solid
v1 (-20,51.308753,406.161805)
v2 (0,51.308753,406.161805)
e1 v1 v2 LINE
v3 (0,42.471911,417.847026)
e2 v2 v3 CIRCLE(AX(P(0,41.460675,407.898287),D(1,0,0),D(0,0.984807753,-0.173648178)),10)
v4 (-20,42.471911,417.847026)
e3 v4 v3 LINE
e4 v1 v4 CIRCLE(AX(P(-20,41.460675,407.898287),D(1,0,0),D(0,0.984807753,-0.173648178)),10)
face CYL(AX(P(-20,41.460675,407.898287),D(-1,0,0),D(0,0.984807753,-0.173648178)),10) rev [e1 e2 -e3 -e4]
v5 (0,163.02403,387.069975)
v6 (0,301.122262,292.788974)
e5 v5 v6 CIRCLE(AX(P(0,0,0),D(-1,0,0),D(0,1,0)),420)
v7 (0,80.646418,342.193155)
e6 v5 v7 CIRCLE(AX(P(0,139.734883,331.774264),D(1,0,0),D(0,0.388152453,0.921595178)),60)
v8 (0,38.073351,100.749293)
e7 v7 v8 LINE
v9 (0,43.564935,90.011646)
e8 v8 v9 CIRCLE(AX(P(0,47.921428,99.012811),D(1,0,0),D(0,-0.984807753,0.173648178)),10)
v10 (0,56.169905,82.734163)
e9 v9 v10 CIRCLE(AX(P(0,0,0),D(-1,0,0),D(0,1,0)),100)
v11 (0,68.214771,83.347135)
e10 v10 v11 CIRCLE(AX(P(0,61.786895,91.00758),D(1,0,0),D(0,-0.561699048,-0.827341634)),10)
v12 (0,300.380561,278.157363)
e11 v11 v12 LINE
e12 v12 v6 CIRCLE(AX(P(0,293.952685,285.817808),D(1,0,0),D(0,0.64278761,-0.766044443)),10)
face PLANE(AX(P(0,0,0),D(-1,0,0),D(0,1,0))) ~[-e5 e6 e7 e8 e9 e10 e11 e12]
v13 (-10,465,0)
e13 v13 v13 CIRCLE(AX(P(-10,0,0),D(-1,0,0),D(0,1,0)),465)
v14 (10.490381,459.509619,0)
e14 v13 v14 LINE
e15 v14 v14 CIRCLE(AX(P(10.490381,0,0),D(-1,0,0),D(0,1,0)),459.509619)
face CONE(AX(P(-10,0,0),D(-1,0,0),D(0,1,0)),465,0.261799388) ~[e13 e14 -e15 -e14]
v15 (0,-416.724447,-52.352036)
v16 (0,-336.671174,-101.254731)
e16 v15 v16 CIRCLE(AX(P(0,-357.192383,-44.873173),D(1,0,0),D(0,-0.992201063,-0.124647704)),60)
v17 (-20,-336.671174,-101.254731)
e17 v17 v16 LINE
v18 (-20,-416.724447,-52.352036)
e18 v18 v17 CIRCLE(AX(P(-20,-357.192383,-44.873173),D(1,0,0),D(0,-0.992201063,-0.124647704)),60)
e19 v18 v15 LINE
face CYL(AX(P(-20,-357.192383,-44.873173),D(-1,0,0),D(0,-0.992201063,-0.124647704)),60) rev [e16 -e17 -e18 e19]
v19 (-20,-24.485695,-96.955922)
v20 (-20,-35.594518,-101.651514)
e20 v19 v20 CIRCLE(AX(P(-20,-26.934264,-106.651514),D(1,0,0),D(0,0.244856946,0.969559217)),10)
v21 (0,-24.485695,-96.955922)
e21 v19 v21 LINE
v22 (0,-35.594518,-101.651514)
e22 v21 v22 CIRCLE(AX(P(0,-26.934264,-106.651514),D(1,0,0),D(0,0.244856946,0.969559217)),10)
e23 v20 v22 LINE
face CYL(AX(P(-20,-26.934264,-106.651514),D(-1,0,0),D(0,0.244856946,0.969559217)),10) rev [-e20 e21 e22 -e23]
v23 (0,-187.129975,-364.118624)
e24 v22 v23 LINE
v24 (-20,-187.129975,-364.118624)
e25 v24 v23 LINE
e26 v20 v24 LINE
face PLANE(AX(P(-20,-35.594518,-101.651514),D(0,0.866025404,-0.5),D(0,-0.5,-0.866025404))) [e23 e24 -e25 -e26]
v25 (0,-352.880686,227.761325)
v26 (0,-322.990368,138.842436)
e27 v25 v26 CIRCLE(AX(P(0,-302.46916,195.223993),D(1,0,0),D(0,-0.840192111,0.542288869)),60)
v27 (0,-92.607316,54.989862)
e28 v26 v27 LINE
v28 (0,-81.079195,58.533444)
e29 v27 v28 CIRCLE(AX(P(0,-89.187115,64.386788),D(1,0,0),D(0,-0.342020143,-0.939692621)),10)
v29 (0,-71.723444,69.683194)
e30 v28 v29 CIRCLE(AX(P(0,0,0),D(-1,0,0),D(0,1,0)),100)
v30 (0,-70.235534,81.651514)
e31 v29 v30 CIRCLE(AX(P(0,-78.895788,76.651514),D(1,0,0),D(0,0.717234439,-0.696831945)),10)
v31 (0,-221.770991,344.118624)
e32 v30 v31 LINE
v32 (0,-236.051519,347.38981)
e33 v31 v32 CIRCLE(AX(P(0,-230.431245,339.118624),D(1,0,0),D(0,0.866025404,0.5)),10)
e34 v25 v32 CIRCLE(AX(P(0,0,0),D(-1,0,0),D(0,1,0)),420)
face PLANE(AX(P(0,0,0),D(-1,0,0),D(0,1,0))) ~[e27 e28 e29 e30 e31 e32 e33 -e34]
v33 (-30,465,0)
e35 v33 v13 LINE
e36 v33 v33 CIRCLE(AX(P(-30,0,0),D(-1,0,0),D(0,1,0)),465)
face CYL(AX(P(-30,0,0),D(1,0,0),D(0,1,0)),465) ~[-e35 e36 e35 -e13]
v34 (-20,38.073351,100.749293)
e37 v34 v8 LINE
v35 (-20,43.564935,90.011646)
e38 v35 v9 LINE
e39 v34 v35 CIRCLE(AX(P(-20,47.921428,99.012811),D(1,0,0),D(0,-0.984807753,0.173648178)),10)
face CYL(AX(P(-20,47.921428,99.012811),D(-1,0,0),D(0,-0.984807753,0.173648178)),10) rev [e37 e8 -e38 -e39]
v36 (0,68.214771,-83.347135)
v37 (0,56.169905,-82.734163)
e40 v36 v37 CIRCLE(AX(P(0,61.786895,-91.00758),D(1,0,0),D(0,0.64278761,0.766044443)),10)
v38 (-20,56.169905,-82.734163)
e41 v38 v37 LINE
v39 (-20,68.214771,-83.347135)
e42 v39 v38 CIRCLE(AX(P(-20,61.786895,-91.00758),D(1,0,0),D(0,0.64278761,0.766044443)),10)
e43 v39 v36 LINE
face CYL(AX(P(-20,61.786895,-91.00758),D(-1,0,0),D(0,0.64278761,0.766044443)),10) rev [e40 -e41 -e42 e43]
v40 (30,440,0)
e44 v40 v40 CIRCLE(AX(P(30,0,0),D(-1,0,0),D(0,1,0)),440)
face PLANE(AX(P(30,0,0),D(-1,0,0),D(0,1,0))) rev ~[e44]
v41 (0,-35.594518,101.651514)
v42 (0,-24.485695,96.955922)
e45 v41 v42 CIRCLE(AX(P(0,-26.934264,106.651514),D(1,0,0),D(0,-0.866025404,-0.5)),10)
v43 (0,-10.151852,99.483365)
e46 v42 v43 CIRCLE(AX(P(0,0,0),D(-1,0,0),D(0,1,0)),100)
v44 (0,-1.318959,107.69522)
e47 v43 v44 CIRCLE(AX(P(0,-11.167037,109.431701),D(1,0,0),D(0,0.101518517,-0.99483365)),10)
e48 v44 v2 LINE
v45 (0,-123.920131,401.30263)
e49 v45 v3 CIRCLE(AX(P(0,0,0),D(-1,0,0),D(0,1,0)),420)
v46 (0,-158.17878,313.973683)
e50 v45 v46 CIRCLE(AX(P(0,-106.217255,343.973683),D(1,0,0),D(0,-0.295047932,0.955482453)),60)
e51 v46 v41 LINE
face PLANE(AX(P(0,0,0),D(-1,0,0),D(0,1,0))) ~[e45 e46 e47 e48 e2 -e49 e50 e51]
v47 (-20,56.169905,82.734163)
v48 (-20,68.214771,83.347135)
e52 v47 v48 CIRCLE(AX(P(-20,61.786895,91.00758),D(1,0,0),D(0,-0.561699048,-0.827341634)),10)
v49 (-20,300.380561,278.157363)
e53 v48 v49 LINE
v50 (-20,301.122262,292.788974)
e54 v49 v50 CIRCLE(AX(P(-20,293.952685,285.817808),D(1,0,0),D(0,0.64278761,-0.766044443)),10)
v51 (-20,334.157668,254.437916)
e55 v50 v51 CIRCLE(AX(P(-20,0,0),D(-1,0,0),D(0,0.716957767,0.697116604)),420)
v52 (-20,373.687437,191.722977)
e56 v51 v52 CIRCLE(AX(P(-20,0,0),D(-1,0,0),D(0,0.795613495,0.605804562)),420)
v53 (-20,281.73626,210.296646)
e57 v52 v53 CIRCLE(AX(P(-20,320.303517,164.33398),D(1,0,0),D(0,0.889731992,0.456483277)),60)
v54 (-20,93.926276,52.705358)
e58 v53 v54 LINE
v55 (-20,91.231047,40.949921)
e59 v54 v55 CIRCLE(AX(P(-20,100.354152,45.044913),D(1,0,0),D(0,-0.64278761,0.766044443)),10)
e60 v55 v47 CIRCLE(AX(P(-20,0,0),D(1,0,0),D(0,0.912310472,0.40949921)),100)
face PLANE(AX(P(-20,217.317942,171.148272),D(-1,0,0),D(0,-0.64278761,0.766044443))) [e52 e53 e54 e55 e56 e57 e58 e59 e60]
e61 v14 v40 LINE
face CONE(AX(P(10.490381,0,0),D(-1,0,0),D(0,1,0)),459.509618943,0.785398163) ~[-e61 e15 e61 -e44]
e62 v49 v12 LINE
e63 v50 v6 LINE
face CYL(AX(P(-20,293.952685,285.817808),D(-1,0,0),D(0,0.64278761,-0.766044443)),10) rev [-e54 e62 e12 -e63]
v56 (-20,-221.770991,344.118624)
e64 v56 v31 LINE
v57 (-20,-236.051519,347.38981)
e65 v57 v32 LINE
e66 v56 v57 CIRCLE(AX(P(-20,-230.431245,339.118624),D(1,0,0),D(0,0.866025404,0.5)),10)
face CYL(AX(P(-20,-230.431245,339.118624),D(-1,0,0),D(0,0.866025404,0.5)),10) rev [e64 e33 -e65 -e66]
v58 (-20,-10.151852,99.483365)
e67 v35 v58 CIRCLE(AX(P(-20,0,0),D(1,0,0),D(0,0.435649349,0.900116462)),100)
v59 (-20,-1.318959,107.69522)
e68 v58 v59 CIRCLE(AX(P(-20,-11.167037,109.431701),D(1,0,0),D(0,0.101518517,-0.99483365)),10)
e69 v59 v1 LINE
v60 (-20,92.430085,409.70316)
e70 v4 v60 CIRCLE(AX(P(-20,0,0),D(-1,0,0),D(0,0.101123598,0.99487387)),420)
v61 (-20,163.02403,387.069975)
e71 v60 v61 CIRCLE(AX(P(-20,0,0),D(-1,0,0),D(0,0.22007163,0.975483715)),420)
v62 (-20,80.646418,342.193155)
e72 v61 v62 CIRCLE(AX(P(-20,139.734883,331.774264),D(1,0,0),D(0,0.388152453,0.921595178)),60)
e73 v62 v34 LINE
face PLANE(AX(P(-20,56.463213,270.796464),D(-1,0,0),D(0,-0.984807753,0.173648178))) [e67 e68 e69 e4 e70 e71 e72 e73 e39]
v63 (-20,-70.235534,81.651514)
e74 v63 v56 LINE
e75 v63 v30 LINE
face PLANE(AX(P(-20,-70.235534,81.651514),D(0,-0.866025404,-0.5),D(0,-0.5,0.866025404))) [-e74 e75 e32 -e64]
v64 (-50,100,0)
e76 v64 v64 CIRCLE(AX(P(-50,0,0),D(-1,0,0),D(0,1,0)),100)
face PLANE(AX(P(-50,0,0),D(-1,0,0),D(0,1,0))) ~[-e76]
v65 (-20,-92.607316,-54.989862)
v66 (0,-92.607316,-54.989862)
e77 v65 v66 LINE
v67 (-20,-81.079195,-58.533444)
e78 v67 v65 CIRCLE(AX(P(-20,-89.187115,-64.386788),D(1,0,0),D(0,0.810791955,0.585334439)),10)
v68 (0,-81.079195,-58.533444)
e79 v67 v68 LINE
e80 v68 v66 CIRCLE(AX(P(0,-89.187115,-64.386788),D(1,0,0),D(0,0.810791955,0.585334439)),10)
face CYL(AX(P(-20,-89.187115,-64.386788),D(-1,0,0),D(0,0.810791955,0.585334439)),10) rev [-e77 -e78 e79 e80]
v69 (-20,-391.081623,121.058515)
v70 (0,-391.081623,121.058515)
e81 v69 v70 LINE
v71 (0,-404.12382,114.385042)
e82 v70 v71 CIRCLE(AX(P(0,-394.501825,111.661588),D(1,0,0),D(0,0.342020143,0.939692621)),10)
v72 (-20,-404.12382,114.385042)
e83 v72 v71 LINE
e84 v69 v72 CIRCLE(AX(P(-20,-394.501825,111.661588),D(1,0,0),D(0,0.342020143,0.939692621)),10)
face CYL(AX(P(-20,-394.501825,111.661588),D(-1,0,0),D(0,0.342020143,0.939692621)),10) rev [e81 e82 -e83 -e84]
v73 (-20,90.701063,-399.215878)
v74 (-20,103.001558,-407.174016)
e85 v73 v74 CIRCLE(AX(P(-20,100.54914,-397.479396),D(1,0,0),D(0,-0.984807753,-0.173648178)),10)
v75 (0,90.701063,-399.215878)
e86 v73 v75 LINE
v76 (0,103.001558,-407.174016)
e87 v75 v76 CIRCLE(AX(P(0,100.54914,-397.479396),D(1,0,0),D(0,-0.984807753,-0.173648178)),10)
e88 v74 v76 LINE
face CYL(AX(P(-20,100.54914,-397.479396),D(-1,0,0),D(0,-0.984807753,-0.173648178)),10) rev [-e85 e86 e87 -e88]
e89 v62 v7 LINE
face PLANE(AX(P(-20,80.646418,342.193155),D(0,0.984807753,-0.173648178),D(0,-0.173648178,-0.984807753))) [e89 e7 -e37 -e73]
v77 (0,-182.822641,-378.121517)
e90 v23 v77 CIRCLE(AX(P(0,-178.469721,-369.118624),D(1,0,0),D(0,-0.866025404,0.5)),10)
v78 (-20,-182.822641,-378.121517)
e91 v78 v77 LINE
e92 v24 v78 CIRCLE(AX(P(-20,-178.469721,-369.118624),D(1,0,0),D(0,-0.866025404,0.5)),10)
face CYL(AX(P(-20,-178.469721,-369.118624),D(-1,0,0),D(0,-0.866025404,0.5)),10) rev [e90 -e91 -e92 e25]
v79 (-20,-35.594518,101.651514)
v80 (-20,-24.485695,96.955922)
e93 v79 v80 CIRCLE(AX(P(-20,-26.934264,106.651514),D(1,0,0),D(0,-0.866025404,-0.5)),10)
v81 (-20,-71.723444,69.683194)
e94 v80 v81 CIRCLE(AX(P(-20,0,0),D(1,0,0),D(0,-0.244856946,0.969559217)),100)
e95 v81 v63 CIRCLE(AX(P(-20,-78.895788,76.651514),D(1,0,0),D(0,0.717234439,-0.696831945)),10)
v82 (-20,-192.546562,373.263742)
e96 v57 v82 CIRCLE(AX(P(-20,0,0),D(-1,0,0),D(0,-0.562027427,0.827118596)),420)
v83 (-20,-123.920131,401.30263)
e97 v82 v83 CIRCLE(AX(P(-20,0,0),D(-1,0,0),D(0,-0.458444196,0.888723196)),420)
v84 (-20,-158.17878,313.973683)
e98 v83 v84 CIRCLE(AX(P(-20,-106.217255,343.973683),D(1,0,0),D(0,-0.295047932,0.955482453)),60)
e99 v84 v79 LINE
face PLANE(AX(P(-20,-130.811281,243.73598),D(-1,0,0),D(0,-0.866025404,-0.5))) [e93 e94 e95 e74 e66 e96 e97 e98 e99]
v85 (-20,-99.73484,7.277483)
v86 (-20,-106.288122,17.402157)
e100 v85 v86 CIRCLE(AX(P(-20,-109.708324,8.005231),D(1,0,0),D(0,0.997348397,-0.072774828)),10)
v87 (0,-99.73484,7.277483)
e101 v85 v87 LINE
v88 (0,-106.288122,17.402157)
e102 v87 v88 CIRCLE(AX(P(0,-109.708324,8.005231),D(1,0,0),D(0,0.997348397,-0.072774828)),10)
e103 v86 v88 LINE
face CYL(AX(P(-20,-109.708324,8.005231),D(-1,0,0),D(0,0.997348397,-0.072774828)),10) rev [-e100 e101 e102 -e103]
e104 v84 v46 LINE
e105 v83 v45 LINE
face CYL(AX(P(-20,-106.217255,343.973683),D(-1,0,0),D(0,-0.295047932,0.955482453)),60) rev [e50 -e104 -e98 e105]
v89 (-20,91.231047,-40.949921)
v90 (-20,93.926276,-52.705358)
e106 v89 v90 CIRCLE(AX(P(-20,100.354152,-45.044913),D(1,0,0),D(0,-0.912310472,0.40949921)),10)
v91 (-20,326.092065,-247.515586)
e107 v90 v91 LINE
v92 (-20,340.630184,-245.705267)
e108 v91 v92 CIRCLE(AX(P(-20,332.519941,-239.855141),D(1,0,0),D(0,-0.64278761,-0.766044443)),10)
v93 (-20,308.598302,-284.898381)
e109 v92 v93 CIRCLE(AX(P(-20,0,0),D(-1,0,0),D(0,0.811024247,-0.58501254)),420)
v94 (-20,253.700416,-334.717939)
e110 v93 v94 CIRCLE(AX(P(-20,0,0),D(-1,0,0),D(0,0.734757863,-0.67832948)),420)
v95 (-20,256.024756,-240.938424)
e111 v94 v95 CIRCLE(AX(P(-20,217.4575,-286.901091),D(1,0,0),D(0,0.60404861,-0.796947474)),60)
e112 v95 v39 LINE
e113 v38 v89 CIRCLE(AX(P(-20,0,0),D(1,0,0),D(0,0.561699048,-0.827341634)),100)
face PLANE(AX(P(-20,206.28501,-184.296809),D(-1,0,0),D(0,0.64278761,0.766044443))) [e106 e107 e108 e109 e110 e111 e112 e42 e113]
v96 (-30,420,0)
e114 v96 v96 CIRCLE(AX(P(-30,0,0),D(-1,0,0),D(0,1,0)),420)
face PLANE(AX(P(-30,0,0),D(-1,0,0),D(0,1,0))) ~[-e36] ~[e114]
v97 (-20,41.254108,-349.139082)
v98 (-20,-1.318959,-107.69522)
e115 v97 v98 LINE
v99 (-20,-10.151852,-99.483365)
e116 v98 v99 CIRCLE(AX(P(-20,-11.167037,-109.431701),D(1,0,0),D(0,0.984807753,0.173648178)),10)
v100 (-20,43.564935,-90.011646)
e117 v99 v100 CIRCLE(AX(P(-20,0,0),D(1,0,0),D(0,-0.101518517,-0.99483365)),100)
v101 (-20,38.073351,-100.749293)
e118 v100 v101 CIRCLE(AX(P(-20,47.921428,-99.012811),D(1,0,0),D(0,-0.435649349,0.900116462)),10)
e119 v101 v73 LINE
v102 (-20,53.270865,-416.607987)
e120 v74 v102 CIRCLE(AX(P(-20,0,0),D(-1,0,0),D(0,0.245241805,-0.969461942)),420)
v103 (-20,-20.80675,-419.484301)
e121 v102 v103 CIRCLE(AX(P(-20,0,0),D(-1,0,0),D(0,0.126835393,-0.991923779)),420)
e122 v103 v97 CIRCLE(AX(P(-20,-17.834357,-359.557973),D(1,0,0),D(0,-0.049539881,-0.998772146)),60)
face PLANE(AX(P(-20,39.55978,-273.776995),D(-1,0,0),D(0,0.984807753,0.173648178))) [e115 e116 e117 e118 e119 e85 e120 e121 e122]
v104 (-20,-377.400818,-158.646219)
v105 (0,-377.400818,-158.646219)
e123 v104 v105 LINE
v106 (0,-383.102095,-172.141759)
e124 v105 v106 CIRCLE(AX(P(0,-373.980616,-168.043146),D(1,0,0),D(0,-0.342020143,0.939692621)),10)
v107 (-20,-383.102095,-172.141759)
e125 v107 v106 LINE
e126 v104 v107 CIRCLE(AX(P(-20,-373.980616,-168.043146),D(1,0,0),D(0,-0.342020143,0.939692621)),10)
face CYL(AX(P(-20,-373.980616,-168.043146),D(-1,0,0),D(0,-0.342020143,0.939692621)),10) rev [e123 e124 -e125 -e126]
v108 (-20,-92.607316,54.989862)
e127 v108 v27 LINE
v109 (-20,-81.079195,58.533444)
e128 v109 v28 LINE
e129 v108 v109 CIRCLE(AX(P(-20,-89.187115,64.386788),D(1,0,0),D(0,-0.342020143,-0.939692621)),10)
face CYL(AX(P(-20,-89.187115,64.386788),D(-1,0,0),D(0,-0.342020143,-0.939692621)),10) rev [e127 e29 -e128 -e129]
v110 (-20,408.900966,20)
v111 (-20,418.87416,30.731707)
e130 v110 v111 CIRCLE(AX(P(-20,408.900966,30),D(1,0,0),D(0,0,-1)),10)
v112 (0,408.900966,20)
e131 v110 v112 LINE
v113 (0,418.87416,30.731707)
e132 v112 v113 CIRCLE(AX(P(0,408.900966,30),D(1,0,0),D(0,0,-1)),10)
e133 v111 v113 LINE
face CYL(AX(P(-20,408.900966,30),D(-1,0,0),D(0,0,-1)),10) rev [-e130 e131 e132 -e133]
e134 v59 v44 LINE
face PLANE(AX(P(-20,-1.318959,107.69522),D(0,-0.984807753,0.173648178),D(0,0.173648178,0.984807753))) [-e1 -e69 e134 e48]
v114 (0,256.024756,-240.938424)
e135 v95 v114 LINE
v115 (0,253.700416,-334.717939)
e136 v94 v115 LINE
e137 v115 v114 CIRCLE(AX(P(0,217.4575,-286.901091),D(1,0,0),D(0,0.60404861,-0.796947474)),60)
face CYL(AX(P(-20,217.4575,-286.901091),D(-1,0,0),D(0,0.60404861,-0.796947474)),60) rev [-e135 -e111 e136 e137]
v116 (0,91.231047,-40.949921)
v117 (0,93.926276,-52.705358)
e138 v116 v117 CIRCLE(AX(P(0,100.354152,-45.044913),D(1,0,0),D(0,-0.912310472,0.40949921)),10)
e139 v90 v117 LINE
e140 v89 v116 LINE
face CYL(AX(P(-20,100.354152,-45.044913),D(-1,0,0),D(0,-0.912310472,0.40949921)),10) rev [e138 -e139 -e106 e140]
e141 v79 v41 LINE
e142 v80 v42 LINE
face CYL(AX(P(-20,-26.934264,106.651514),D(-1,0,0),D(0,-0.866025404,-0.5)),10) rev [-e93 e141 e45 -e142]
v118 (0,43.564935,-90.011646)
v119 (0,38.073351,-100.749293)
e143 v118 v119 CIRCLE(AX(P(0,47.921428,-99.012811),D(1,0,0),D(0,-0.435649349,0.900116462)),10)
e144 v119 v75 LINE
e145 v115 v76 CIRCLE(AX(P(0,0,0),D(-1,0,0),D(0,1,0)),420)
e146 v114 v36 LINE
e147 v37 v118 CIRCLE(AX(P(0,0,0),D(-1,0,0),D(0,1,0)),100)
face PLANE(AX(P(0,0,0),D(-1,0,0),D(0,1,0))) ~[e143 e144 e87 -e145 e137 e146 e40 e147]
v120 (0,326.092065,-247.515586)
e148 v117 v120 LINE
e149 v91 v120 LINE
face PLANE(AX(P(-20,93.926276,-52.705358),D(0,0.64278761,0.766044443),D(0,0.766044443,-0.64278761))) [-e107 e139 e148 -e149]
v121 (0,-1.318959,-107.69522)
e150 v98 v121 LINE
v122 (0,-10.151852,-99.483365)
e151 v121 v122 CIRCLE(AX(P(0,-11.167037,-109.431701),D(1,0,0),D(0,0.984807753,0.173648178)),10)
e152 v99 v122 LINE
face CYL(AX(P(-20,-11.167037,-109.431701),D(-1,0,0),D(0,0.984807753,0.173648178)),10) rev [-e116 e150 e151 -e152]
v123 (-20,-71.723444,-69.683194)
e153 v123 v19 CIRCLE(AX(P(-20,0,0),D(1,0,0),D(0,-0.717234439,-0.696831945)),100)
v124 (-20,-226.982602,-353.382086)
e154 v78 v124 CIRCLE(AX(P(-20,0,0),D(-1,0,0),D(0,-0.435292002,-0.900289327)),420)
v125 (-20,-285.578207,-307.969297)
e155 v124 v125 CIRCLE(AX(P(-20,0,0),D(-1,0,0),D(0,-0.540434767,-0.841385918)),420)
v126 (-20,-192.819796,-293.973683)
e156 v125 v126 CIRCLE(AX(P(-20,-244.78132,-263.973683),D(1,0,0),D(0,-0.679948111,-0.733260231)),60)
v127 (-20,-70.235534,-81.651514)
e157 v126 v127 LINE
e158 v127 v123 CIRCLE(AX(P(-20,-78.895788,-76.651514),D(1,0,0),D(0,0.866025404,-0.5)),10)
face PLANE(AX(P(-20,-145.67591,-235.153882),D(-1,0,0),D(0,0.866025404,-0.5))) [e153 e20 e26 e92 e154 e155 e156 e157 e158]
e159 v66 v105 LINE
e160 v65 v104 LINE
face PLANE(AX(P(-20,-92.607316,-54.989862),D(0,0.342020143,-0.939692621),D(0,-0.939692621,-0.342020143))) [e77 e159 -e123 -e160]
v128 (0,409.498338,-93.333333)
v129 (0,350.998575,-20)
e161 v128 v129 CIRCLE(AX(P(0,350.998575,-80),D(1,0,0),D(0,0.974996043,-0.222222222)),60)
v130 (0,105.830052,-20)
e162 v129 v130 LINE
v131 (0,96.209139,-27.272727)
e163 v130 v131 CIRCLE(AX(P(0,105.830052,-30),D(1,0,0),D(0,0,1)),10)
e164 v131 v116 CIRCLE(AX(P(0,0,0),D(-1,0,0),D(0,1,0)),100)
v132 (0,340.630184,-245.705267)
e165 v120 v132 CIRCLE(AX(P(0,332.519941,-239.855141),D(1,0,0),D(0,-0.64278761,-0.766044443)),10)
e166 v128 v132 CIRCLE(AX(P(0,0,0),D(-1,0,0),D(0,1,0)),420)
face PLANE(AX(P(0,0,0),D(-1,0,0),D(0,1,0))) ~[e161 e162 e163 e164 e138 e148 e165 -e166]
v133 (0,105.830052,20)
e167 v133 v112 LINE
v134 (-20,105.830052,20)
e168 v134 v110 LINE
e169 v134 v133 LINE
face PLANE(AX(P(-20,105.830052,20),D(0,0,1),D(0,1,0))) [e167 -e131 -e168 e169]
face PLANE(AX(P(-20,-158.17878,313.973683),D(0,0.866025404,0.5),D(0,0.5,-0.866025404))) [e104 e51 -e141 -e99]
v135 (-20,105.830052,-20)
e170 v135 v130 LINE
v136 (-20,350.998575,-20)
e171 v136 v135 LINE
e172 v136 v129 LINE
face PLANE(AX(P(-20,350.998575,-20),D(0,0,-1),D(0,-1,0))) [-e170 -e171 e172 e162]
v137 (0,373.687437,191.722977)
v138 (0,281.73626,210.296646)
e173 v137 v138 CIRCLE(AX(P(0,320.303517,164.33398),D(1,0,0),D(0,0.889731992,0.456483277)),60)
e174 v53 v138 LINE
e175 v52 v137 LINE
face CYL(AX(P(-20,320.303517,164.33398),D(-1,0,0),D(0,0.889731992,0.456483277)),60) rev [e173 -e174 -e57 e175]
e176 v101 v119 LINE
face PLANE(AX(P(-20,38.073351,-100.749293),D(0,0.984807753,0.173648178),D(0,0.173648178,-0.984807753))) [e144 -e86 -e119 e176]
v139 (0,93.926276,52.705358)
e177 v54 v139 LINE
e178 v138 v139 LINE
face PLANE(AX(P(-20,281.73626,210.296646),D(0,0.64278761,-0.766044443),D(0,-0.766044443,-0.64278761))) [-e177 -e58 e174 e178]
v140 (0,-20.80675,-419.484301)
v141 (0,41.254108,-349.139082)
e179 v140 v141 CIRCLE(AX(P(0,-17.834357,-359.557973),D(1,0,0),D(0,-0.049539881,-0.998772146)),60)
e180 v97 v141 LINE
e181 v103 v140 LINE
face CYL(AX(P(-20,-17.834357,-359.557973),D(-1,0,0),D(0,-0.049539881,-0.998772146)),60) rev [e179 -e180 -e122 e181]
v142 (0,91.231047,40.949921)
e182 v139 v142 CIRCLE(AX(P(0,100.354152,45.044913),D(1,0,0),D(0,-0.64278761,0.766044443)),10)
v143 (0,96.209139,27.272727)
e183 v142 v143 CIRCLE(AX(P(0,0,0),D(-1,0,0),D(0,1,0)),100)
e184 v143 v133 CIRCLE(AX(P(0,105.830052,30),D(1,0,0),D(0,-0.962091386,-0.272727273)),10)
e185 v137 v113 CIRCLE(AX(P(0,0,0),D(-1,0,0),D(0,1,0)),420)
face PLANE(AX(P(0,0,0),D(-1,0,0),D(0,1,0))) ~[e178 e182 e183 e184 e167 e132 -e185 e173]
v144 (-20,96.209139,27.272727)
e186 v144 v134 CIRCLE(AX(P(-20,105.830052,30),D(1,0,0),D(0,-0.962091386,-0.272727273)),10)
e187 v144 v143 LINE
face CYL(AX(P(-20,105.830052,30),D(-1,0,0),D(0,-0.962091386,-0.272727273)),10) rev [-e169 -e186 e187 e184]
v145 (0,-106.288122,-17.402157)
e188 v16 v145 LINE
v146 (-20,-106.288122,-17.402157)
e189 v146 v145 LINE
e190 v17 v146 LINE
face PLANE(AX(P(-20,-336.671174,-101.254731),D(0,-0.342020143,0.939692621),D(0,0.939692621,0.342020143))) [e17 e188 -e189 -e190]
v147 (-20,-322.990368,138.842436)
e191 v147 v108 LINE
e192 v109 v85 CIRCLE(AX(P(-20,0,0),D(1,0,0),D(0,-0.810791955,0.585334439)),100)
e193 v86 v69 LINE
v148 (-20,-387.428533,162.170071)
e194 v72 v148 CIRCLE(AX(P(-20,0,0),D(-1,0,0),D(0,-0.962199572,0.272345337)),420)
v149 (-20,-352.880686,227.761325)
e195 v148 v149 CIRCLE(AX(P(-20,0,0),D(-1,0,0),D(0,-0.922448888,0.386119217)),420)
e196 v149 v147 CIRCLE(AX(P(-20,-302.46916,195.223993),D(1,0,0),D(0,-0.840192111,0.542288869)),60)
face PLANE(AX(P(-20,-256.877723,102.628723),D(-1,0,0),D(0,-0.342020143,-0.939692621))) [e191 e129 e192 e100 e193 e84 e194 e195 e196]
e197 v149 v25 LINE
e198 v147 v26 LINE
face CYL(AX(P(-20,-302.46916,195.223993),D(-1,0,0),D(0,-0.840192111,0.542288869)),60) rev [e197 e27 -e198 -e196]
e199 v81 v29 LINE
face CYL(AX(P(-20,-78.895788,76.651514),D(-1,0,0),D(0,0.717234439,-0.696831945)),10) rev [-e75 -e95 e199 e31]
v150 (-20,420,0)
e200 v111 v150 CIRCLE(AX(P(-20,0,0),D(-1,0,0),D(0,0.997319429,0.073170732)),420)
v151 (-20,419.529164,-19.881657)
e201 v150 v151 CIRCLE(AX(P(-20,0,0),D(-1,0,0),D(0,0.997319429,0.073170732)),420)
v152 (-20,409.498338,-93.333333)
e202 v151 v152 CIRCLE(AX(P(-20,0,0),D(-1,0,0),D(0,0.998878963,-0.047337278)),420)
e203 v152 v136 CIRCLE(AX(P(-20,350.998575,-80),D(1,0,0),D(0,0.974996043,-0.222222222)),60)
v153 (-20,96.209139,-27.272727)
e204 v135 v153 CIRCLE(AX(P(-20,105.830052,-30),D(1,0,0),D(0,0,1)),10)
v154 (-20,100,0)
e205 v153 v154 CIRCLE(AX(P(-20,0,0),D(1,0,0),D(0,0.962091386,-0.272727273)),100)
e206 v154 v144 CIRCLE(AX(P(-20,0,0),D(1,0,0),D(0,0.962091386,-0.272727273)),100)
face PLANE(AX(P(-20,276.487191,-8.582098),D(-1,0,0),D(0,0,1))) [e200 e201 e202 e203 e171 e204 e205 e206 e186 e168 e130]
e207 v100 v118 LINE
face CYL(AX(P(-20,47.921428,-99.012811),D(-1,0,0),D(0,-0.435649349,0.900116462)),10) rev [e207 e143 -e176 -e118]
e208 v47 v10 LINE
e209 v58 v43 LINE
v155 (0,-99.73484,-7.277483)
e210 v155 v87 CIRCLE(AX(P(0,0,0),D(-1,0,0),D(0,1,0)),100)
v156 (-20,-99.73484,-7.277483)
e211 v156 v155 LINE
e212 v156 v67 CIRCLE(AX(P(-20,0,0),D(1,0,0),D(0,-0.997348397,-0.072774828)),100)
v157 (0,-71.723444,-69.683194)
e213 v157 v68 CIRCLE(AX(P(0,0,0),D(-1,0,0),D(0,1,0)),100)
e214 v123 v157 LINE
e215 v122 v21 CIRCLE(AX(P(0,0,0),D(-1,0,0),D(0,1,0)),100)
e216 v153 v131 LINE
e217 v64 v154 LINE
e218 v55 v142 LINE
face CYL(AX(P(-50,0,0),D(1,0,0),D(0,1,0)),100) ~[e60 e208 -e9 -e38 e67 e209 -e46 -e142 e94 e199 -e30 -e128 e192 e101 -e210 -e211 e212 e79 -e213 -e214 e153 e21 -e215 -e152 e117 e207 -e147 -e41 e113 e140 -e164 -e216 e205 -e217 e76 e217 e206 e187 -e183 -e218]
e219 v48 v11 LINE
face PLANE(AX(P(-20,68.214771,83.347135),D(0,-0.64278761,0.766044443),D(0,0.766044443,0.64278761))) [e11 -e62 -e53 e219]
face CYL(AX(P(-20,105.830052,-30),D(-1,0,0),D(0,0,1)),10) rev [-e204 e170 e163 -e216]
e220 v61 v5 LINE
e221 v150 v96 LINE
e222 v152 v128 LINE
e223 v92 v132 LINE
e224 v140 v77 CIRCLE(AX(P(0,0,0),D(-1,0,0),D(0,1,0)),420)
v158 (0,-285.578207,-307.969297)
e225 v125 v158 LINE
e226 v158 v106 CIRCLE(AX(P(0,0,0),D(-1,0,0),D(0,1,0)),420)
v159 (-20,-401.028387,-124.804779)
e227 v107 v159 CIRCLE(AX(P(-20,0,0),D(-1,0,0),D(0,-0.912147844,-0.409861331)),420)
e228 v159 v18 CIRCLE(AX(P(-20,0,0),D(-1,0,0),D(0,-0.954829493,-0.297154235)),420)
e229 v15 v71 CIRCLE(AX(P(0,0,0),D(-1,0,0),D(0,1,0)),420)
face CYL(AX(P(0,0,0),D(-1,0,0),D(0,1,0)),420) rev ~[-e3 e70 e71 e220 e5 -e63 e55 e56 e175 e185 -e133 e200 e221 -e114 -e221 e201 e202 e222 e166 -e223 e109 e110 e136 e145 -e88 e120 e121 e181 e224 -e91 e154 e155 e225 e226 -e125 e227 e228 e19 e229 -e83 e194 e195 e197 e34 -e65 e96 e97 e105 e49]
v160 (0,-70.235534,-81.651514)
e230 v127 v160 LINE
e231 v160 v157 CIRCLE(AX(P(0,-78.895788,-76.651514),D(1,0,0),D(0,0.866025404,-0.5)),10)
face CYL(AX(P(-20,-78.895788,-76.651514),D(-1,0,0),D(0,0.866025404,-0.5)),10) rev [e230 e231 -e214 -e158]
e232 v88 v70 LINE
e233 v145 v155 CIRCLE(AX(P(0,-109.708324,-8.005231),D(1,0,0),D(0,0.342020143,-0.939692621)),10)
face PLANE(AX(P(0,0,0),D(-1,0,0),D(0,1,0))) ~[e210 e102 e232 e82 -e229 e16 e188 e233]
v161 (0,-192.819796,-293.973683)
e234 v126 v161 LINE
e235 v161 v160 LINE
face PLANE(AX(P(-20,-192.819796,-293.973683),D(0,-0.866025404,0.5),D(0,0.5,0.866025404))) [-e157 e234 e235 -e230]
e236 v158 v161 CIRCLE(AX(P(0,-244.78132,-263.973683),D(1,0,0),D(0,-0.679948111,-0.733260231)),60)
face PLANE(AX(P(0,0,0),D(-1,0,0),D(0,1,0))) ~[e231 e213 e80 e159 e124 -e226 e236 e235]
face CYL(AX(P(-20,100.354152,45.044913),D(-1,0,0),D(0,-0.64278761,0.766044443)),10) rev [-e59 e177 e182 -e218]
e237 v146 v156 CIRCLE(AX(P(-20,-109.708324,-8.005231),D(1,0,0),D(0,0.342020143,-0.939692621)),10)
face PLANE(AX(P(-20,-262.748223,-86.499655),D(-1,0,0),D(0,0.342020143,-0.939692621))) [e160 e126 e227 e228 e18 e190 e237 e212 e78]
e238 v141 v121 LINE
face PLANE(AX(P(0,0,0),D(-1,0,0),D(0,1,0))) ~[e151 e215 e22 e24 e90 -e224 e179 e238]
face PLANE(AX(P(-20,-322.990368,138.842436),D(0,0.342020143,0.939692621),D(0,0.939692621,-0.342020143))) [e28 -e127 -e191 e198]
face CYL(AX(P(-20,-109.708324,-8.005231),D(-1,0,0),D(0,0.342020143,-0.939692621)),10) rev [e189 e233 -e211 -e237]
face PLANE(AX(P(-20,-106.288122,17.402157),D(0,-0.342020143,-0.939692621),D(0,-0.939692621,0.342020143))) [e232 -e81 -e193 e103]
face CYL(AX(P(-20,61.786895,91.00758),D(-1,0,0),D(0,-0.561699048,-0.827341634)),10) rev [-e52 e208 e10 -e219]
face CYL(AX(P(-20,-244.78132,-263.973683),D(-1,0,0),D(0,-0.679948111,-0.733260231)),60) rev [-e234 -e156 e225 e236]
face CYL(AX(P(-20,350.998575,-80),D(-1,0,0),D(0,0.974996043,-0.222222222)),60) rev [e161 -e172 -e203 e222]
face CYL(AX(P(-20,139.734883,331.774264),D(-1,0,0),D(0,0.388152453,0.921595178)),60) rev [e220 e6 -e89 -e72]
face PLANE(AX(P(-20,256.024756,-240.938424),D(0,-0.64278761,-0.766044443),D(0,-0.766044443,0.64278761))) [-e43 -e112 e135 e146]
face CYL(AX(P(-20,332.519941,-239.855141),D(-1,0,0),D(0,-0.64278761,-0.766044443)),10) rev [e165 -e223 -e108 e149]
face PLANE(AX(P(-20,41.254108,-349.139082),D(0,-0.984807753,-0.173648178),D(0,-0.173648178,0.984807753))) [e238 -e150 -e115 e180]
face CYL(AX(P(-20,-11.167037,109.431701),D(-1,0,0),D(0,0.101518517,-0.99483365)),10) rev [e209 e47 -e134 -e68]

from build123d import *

# Parameters (mm, degrees)
BOSS_EXTRUDE1_START = 20
BOSS_EXTRUDE1_DEPTH = 20
CIRPATTERN1_COUNT   = 9


with BuildPart() as part:
    # Sketch1 → Revolve1 (revolve)
    with BuildSketch(Plane.XY):
        Polygon((-50, 0), (-50, 100), (0, 100), (0, 420), (-30, 420), (-30, 465), (-10, 465), (10.490381057, 459.509618943), (30, 440), (30, 0), align=None)
    revolve(axis=Axis((30, 0, 0), (-1, 0, 0)))

    # Sketch2 → Boss-Extrude1 (add)
    with BuildSketch(Plane.ZY.offset(BOSS_EXTRUDE1_START)):
        with BuildLine():
            ThreePointArc((27.272727273, 96.209138584), (22.022759648, 99.799825551), (20, 105.830052443))
            Line((20, 105.830052443), (20, 408.900966005))
            ThreePointArc((20, 408.900966005), (23.192543543, 416.226164746), (30.731707317, 418.874160298))
            ThreePointArc((30.731707317, 418.874160298), (5.43490171, 419.964834056), (-19.881656805, 419.529164329))
            ThreePointArc((-19.881656805, 419.529164329), (-56.82924306, 416.1375219), (-93.333333333, 409.498338078))
            ThreePointArc((-93.333333333, 409.498338078), (-42.583426132, 397.902733094), (-20, 350.998575496))
            Line((-20, 350.998575496), (-20, 105.830052443))
            ThreePointArc((-20, 105.830052443), (-22.022759648, 99.799825551), (-27.272727273, 96.209138584))
            ThreePointArc((-27.272727273, 96.209138584), (0, 100), (27.272727273, 96.209138584))
        make_face()
    boss_extrude1 = extrude(amount=-BOSS_EXTRUDE1_DEPTH)

    # CirPattern1: Boss-Extrude1 ×9 about axis
    cirpattern1_axis = Axis((0, 0, 0), (1, 0, 0))
    for i in range(1, CIRPATTERN1_COUNT):
        add(boss_extrude1.rotate(cirpattern1_axis, i * 360 / CIRPATTERN1_COUNT))


solid = part.part
